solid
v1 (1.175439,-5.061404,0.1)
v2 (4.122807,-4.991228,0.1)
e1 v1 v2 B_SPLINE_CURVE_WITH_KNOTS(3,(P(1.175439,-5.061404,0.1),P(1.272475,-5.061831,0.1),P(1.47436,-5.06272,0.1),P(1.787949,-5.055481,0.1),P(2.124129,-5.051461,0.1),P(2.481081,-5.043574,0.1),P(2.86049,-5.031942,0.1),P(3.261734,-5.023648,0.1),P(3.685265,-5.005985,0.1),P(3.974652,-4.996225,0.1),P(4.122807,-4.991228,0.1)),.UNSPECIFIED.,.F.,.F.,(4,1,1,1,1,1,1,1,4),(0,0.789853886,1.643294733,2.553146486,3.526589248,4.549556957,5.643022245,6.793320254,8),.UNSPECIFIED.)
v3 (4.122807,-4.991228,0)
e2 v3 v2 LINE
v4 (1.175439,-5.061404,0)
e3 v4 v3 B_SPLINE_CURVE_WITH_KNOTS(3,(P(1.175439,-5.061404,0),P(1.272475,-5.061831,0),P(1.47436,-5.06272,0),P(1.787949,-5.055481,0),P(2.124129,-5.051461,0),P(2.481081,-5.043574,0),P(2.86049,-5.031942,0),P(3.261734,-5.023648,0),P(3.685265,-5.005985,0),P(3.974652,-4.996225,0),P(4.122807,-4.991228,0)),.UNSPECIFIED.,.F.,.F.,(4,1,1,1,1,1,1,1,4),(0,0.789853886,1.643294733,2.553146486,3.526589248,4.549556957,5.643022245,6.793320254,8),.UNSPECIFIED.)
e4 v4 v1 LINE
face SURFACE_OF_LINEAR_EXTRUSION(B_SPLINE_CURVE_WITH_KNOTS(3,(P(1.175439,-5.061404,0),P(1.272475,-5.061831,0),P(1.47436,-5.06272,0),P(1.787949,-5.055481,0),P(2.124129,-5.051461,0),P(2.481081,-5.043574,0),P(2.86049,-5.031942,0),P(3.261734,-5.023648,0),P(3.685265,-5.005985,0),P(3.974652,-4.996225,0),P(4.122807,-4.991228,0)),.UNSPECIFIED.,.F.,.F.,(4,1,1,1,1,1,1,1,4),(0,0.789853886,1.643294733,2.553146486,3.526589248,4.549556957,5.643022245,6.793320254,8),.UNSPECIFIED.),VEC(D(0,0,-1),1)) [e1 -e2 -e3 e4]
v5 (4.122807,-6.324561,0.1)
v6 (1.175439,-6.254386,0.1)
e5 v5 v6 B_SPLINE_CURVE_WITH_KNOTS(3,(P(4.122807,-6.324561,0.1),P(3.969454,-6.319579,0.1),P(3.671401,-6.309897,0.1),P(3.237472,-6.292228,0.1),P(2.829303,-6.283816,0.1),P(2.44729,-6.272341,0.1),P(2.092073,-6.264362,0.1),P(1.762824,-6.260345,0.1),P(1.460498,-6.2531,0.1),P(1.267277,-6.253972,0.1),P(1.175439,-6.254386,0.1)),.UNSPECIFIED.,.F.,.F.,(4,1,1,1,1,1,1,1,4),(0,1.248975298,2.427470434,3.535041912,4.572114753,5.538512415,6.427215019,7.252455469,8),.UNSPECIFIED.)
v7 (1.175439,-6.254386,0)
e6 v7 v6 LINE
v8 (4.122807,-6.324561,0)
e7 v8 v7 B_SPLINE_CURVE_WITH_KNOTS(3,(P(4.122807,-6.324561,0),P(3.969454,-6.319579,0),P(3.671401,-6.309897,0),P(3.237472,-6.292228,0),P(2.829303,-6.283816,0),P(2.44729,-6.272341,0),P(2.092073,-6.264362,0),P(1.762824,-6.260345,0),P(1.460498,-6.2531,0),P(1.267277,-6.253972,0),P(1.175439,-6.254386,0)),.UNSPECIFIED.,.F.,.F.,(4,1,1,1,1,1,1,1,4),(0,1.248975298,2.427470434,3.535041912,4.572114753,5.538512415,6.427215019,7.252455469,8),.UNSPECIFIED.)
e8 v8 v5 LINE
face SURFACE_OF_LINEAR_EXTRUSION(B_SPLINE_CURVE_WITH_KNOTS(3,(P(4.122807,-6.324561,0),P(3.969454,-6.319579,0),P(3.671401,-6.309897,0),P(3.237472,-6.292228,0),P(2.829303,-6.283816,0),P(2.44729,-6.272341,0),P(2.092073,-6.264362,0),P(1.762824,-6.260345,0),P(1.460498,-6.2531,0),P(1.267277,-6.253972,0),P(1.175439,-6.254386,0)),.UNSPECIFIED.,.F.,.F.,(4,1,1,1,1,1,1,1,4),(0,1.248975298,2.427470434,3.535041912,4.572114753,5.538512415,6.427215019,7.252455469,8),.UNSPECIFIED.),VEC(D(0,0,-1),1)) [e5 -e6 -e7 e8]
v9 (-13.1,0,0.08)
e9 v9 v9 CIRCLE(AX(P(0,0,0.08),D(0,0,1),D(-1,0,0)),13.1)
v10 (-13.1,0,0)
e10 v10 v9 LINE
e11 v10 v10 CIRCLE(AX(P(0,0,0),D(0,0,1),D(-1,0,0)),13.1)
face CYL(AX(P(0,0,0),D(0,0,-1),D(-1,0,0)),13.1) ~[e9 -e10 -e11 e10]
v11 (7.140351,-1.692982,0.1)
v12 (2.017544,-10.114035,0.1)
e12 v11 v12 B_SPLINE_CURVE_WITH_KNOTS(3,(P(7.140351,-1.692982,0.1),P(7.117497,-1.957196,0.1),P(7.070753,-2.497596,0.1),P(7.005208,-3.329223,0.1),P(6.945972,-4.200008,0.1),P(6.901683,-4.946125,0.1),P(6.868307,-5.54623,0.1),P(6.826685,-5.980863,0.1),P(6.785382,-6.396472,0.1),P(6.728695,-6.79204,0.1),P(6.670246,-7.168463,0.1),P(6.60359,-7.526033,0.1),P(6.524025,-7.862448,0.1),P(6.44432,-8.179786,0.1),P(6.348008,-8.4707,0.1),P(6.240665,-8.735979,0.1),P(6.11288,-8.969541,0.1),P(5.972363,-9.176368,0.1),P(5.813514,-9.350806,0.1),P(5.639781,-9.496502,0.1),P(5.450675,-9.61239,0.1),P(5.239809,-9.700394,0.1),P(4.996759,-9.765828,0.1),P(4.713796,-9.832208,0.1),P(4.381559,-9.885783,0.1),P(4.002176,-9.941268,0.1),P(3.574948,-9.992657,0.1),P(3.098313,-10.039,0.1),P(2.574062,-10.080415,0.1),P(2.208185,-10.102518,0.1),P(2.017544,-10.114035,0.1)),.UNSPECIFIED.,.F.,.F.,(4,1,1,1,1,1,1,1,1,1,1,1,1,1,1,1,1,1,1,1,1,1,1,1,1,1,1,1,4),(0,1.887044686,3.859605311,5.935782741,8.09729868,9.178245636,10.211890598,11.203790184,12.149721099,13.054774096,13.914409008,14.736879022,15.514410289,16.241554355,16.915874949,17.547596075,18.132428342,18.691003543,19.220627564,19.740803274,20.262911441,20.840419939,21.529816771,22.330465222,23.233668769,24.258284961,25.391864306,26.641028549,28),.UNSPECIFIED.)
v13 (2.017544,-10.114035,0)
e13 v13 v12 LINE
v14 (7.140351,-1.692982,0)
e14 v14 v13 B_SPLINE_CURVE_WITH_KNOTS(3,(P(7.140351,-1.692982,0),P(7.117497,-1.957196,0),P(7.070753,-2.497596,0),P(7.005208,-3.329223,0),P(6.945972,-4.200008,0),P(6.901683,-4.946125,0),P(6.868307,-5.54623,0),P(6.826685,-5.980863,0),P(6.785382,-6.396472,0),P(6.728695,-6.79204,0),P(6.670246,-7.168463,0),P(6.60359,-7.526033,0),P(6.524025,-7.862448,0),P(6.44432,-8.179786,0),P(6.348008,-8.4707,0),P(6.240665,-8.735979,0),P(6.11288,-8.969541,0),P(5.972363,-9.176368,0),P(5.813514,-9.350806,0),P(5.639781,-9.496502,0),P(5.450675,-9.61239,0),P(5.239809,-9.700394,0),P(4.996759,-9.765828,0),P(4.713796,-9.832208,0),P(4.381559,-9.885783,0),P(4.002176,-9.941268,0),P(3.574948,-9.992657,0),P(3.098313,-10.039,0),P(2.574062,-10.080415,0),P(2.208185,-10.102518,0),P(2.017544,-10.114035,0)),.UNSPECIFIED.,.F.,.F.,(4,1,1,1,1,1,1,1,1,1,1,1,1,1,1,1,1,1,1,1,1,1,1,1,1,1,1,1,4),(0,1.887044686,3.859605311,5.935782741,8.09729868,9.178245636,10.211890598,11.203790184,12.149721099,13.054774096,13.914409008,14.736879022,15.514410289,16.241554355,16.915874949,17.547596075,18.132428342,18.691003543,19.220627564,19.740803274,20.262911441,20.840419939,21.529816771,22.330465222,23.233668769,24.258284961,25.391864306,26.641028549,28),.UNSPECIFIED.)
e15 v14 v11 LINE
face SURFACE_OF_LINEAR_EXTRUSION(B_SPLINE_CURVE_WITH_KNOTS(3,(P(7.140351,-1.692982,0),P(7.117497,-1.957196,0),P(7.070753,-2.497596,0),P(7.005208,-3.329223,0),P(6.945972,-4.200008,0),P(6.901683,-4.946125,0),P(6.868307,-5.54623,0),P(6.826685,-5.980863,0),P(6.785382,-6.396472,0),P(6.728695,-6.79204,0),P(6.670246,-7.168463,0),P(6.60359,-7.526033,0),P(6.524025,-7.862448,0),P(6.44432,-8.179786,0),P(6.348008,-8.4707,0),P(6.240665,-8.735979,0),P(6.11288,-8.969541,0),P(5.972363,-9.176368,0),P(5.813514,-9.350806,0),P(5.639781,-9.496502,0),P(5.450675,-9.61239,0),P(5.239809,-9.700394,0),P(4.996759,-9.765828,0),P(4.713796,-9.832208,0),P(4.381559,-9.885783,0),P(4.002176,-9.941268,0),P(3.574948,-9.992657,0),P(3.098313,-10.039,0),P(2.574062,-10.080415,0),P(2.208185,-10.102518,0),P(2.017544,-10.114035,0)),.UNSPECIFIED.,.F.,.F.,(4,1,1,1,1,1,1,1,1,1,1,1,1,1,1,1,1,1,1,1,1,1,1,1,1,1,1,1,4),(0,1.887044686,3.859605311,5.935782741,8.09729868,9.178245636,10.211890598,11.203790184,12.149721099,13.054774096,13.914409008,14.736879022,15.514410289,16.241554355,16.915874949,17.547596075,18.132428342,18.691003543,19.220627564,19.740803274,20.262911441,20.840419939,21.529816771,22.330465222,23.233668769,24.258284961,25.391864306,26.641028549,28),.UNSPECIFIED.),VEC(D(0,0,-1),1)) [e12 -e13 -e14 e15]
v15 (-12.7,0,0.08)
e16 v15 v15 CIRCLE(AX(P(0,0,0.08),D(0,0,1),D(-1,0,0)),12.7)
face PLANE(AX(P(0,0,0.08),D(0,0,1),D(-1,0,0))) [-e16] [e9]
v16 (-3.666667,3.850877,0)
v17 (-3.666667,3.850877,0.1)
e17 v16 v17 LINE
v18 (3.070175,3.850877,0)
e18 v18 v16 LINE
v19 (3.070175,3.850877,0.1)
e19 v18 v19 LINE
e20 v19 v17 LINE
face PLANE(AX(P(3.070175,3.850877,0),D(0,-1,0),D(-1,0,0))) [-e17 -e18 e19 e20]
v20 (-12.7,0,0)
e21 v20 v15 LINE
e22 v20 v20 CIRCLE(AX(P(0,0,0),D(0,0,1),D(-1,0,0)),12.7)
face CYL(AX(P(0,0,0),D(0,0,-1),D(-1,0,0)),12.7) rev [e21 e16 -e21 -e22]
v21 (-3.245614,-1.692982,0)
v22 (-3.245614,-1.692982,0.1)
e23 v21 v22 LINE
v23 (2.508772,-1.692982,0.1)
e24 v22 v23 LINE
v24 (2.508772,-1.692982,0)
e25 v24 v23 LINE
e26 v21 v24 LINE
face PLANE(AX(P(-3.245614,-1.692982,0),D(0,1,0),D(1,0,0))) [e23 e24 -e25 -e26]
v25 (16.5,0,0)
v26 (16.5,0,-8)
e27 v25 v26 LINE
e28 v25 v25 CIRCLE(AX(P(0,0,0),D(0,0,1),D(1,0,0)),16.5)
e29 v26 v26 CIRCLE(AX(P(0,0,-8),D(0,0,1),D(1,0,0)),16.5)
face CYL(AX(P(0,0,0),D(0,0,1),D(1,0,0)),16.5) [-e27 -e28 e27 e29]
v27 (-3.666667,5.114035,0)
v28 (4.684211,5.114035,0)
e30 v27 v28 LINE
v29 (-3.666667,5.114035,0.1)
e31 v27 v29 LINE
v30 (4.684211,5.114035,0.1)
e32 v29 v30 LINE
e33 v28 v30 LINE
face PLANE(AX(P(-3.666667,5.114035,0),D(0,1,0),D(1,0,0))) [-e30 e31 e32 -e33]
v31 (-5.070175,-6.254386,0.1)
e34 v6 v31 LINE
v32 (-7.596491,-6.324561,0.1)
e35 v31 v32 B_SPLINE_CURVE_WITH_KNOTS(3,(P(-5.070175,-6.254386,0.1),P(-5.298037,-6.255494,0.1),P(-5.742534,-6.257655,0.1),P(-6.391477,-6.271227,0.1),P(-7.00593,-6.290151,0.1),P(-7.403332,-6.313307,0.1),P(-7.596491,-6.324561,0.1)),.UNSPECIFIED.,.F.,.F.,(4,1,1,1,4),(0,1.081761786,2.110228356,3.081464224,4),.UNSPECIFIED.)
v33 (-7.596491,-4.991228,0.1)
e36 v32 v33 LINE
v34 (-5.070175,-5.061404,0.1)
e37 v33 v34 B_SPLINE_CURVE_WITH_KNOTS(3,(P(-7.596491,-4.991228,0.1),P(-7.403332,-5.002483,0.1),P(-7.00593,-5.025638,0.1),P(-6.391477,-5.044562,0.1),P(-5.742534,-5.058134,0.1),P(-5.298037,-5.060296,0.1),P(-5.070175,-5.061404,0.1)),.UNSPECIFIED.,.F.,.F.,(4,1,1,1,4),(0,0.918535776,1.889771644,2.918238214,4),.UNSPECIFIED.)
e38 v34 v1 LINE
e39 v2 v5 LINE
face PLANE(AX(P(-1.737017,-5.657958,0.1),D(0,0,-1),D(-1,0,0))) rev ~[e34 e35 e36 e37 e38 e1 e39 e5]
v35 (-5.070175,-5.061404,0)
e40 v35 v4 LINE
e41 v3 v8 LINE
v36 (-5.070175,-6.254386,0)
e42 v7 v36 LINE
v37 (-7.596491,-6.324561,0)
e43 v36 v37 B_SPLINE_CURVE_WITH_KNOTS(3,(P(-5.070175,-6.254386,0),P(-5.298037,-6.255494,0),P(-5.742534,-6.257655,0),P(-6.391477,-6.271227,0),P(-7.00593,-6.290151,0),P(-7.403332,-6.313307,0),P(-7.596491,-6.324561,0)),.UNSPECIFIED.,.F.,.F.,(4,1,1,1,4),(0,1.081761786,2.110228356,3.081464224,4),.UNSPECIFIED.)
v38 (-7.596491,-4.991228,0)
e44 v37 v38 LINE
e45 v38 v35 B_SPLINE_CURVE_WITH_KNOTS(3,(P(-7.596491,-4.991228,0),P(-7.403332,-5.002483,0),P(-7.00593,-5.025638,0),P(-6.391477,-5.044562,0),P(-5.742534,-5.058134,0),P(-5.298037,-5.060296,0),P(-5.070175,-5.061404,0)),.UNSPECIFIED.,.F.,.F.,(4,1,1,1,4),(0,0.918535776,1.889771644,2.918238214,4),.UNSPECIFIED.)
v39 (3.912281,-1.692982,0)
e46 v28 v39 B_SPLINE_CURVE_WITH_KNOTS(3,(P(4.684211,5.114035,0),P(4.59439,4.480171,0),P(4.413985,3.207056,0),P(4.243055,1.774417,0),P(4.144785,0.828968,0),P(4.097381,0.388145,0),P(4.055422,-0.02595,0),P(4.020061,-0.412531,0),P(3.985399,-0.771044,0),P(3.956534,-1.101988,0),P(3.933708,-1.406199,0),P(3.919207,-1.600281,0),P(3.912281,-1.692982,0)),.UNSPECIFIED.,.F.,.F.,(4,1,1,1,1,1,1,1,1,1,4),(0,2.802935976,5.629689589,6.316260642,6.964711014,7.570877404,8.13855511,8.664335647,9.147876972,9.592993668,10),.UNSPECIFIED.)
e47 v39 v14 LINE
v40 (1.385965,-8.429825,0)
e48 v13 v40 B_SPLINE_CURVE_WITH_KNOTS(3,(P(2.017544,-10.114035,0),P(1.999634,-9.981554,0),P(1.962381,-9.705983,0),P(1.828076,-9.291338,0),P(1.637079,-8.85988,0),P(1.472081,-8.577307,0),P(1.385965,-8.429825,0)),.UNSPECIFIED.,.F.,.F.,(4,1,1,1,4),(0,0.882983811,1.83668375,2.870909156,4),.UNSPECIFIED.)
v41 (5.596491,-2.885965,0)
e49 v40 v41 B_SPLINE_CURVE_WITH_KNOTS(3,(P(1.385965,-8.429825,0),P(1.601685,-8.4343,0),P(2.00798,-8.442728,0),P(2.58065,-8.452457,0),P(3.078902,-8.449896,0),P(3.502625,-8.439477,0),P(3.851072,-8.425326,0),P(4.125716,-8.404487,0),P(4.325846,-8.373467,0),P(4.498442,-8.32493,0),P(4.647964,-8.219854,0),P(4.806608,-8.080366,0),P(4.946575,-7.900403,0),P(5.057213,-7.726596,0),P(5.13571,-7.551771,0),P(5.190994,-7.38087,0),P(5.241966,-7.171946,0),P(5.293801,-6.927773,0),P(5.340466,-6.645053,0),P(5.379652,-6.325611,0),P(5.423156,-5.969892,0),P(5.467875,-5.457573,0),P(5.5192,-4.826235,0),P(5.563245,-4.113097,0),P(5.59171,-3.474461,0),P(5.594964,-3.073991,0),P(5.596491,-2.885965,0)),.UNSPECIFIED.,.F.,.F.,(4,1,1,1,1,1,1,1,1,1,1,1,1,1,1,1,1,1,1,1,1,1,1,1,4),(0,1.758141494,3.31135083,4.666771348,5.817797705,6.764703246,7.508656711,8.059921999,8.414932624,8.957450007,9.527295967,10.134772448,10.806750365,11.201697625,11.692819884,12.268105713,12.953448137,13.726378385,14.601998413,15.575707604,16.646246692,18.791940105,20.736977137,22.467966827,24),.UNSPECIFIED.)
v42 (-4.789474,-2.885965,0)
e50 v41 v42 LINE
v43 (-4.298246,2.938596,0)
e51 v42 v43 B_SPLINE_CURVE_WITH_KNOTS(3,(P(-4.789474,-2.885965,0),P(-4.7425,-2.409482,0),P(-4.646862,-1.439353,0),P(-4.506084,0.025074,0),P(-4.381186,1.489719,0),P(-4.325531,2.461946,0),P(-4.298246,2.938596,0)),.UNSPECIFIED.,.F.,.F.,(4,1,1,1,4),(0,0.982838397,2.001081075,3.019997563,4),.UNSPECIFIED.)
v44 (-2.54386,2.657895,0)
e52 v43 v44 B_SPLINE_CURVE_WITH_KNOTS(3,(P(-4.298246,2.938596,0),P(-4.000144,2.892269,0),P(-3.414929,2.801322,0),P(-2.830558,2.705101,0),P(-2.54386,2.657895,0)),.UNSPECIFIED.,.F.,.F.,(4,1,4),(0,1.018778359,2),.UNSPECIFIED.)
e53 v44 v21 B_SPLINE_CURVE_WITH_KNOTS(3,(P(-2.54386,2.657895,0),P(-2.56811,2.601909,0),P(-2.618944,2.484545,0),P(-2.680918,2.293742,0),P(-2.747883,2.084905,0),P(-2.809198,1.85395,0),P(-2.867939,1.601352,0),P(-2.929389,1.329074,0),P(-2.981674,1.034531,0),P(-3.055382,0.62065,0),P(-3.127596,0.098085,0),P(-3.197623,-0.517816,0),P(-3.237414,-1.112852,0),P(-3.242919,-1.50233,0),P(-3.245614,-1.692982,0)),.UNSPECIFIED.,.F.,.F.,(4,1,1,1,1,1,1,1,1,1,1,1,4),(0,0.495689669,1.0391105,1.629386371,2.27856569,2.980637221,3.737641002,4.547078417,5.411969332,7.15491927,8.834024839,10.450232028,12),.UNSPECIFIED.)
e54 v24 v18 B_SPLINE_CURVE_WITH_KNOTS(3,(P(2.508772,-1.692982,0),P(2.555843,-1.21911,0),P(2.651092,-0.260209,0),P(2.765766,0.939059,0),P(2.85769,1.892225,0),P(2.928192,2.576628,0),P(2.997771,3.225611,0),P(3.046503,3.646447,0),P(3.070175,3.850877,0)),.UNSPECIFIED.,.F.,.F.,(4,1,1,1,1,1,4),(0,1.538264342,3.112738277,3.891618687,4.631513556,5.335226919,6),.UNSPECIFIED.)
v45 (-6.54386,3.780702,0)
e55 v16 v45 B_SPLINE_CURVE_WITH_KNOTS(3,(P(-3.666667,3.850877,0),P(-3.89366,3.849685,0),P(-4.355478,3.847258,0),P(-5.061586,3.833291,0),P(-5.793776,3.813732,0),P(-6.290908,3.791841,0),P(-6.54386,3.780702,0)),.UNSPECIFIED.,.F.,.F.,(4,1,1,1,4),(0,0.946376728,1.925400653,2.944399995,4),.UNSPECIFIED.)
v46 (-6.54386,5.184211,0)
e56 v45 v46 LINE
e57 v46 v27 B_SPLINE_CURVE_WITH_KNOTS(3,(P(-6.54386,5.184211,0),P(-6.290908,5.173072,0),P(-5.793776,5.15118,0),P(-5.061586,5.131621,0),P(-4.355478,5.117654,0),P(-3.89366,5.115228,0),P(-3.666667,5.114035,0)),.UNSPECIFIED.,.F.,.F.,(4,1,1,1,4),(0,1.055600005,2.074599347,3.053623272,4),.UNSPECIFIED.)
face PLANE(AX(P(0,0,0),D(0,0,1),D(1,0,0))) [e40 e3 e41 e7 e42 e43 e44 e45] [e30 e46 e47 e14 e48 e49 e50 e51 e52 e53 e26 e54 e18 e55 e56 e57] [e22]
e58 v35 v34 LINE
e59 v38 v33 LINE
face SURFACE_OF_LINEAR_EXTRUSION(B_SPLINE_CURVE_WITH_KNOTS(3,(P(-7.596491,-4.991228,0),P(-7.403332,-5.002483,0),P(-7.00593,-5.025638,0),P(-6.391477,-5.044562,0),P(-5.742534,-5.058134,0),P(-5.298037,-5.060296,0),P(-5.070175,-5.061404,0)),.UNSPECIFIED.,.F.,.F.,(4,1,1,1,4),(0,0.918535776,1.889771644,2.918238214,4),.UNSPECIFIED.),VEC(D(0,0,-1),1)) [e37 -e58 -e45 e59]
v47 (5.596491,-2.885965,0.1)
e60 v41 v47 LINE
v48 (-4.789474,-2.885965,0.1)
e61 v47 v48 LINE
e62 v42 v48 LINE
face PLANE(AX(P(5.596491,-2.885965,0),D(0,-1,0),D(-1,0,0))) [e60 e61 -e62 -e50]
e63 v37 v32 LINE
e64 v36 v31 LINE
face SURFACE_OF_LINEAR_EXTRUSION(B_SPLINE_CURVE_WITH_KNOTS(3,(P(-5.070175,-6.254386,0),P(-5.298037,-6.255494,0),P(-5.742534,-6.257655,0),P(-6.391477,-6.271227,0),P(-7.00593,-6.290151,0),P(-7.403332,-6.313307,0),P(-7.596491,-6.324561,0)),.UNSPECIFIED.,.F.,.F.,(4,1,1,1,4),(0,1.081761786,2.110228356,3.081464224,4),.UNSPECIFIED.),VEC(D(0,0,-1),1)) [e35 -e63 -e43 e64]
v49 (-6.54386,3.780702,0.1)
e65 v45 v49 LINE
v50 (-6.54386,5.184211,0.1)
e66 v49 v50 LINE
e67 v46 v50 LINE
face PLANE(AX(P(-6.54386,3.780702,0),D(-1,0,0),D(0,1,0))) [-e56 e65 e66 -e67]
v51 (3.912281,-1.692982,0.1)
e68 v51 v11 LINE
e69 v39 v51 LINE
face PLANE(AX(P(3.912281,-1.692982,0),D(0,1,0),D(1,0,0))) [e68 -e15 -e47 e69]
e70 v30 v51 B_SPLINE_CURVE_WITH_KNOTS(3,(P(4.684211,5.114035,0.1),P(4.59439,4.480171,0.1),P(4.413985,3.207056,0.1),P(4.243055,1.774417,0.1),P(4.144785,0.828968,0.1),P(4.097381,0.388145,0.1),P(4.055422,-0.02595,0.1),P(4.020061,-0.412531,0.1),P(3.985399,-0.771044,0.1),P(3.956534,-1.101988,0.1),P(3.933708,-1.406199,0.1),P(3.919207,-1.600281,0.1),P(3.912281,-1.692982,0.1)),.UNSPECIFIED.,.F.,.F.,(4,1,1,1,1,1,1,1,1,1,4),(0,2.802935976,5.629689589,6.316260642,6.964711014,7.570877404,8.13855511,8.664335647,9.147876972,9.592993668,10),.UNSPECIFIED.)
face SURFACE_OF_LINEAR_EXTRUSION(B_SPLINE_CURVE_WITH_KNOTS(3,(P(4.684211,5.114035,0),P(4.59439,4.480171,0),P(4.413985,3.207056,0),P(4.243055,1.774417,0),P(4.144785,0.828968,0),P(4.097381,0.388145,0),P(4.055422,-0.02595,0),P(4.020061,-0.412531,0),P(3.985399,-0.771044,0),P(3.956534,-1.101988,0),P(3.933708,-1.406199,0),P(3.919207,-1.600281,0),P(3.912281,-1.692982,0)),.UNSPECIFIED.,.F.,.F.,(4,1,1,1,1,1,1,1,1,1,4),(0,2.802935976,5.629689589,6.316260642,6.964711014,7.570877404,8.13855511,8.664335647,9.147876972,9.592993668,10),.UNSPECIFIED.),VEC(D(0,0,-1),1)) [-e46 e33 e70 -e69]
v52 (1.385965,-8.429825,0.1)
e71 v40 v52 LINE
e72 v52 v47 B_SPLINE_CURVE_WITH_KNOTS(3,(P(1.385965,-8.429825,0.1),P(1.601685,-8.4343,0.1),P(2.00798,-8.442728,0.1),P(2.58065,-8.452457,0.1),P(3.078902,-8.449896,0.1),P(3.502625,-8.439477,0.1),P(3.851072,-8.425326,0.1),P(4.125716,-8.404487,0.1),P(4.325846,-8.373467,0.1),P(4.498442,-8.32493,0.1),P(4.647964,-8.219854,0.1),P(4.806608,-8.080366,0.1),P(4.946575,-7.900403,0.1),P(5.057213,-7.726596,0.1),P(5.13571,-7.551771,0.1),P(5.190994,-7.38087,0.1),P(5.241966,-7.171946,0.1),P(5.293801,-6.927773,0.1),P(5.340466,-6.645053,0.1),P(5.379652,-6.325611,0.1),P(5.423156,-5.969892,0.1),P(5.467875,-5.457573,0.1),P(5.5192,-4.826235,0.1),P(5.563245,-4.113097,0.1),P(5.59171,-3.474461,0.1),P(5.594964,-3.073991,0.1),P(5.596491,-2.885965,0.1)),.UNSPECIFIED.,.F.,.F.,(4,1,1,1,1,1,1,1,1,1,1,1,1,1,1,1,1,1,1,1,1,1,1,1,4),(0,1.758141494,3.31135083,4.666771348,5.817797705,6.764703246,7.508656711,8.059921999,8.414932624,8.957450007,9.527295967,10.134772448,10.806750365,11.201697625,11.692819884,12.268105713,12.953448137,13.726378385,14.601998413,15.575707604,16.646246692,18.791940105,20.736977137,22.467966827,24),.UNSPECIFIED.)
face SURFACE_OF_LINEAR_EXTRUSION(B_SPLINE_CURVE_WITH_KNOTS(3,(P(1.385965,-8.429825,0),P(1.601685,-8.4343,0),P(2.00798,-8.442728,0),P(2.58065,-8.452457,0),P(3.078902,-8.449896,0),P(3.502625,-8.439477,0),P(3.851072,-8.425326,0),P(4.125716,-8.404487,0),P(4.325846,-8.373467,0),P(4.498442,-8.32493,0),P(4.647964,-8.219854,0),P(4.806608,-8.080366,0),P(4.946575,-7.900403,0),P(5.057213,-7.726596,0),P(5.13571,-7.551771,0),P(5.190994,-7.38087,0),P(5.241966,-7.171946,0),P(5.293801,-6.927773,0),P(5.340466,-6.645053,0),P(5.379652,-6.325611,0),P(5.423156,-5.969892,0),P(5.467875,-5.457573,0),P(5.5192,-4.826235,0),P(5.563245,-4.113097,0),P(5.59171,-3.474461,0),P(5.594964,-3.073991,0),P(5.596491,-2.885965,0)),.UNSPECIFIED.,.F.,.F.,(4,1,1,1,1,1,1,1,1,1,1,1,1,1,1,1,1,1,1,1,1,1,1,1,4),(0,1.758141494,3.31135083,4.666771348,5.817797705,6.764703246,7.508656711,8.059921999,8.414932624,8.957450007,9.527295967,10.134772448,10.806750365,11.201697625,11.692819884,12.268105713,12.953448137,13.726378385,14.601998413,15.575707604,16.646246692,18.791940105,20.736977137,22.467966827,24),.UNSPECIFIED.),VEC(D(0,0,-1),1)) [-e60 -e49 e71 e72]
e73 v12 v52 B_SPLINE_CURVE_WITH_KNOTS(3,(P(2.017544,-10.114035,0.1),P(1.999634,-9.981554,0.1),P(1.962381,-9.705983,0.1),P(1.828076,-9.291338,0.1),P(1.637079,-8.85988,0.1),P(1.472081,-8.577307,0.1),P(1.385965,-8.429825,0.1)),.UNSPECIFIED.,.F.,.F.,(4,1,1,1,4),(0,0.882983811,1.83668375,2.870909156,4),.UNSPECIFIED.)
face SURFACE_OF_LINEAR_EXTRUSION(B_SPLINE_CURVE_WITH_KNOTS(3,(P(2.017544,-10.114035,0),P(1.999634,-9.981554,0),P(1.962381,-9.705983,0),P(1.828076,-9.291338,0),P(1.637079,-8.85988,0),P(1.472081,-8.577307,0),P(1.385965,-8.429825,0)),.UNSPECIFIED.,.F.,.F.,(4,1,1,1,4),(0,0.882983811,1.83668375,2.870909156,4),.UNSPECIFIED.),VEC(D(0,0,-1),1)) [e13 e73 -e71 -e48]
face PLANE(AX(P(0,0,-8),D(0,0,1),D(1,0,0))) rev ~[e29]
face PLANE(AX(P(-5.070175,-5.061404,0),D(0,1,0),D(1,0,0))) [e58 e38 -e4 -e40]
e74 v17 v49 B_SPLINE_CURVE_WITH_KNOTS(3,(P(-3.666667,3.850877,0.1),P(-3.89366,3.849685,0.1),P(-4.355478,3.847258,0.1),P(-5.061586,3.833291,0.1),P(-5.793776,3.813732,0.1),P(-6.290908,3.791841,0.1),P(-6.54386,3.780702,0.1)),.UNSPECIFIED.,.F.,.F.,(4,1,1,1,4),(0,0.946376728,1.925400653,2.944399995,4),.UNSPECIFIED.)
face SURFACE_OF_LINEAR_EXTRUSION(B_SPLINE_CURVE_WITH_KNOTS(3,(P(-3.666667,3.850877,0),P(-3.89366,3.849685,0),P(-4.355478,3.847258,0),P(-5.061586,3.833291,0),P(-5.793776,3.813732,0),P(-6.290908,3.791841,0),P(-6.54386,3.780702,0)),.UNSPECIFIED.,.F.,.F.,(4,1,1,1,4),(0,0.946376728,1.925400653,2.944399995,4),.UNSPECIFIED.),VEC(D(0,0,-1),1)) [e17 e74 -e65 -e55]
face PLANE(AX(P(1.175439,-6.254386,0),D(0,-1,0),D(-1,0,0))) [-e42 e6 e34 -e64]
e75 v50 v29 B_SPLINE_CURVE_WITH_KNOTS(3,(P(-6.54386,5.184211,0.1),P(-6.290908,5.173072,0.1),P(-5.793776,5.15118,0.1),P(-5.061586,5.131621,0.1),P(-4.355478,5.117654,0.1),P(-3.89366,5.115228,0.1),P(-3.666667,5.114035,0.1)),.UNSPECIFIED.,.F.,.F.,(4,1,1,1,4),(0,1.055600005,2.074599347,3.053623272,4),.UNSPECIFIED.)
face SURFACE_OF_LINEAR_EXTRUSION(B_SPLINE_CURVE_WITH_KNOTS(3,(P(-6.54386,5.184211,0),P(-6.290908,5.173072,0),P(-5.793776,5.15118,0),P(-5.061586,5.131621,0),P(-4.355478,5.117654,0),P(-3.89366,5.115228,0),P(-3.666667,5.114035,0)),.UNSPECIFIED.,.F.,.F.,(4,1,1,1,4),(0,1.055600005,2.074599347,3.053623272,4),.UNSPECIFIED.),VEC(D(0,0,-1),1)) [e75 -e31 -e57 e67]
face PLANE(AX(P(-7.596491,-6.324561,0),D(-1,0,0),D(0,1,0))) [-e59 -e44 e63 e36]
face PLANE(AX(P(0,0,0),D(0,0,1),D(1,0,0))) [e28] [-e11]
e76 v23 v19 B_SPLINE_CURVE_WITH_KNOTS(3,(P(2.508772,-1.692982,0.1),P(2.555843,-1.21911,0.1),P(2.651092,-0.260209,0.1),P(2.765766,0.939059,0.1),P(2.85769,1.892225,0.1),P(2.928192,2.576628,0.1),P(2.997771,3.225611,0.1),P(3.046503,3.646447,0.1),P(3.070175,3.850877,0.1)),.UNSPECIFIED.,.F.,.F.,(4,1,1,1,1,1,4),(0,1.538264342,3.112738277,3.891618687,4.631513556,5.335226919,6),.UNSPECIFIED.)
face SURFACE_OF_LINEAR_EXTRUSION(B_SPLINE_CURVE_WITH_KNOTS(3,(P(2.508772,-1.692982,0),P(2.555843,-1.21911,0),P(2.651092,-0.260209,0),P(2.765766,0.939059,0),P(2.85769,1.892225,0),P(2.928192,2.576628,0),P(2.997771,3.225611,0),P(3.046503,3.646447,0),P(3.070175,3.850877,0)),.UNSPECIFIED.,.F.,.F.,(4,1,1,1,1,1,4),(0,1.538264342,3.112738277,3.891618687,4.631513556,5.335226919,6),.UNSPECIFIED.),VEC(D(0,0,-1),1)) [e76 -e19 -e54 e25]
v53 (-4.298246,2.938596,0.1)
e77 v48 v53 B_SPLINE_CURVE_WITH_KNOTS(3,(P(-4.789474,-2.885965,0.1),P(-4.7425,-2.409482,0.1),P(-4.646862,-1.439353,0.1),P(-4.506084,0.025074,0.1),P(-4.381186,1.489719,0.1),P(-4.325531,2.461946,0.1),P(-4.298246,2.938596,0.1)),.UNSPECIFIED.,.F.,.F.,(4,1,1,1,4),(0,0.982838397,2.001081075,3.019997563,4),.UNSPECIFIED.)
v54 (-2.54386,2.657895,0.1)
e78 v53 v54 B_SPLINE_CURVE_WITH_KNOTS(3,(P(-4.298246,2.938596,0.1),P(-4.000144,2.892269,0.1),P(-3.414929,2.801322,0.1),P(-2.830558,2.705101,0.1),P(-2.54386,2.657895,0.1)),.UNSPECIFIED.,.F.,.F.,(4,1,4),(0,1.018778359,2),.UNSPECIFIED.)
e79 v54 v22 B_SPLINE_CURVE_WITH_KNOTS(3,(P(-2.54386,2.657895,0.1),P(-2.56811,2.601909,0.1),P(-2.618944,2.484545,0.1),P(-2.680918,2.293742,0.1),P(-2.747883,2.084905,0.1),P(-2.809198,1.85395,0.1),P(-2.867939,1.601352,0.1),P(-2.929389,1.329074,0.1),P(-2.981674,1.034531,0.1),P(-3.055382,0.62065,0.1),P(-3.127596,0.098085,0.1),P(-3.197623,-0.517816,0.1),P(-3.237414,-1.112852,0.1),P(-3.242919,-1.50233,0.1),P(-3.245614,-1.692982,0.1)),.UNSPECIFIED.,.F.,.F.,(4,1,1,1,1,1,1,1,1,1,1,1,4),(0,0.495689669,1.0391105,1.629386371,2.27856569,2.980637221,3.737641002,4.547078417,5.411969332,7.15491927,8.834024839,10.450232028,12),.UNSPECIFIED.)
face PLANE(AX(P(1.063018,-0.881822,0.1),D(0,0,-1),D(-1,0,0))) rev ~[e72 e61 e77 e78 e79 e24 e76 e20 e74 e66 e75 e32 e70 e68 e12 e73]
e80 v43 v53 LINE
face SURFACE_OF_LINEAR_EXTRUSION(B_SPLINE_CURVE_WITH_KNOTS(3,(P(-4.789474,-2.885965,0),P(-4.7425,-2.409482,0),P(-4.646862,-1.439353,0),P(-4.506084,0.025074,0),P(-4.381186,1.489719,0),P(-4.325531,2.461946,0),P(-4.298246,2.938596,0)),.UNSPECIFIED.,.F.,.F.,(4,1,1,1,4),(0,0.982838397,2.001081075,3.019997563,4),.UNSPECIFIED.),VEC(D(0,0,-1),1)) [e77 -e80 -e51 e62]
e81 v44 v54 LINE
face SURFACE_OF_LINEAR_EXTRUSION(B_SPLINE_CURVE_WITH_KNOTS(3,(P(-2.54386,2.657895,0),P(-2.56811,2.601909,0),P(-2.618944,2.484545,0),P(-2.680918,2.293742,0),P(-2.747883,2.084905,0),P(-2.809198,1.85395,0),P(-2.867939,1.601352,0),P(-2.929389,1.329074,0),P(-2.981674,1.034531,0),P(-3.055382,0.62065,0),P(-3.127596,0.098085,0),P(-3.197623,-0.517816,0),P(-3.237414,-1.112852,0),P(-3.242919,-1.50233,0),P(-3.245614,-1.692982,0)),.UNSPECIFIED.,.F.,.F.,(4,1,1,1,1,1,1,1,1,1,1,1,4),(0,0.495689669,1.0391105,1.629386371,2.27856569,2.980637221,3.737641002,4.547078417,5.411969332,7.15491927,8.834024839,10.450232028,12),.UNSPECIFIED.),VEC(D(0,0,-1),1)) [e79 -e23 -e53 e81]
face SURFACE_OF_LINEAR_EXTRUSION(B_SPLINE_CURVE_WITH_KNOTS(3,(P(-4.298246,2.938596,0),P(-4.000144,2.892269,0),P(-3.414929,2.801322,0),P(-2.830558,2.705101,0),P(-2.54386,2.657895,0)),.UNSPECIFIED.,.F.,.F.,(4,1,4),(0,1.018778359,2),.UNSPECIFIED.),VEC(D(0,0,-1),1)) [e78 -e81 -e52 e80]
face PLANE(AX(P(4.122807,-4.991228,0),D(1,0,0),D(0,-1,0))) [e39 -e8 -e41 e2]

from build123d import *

# Parameters (mm, degrees)
SKETCH_1_R               = 16.5
DIAMETER33_HEIGHT8_DEPTH = 8
CHARACTER_DEPTH          = 0.1
SKETCH_3_R               = 13.1
SKETCH_3_R_2             = 12.7
INK_RING_DEPTH           = 0.08


with BuildPart() as part:
    # 草图1 → Diameter33_Height8 (new body)
    with BuildSketch(Plane.XY):
        Circle(SKETCH_1_R)
    extrude(amount=-DIAMETER33_HEIGHT8_DEPTH)

    # 草图2 → Character_马 (add)
    with BuildSketch(Plane.XY):
        with BuildLine():
            add(Edge.make_bspline(
                [(-2.543859649, 2.657894737), (-2.568109523, 2.601908638), (-2.618944351, 2.484545403), (-2.68091831, 2.29374228), (-2.747882739, 2.084905171), (-2.809197893, 1.853949883), (-2.867938942, 1.601351852), (-2.929388828, 1.329074257), (-2.981674213, 1.034530608), (-3.05538164, 0.620649676), (-3.127595616, 0.098084884), (-3.197623224, -0.517816396), (-3.237414282, -1.112851594), (-3.242919292, -1.502329954), (-3.245614035, -1.692982456)],
                knots=[0, 0, 0, 0, 0.495689669, 1.0391105, 1.629386371, 2.27856569, 2.980637221, 3.737641002, 4.547078417, 5.411969332, 7.15491927, 8.834024839, 10.450232028, 12, 12, 12, 12], degree=3))
            Line((-3.245614035, -1.692982456), (2.50877193, -1.692982456))
            add(Edge.make_bspline(
                [(2.50877193, -1.692982456), (2.555842668, -1.219109546), (2.651092154, -0.26020911), (2.765765857, 0.939059138), (2.857689962, 1.892225125), (2.928191701, 2.576627854), (2.997770846, 3.225611417), (3.046502797, 3.646446892), (3.070175439, 3.850877193)],
                knots=[0, 0, 0, 0, 1.538264342, 3.112738277, 3.891618687, 4.631513556, 5.335226919, 6, 6, 6, 6], degree=3))
            Line((3.070175439, 3.850877193), (-3.666666667, 3.850877193))
            add(Edge.make_bspline(
                [(-3.666666667, 3.850877193), (-3.893660384, 3.849684604), (-4.355478431, 3.847258285), (-5.06158577, 3.833290973), (-5.793776141, 3.813732), (-6.290908298, 3.791840575), (-6.543859649, 3.780701754)],
                knots=[0, 0, 0, 0, 0.946376728, 1.925400653, 2.944399995, 4, 4, 4, 4], degree=3))
            Line((-6.543859649, 3.780701754), (-6.543859649, 5.184210526))
            add(Edge.make_bspline(
                [(-6.543859649, 5.184210526), (-6.290908298, 5.173071706), (-5.793776141, 5.15118028), (-5.06158577, 5.131621308), (-4.355478431, 5.117653996), (-3.893660384, 5.115227677), (-3.666666667, 5.114035088)],
                knots=[0, 0, 0, 0, 1.055600005, 2.074599347, 3.053623272, 4, 4, 4, 4], degree=3))
            Line((-3.666666667, 5.114035088), (4.684210526, 5.114035088))
            add(Edge.make_bspline(
                [(4.684210526, 5.114035088), (4.594389665, 4.480170947), (4.4139847, 3.207056477), (4.243054526, 1.774416685), (4.14478495, 0.828967937), (4.097381465, 0.388144624), (4.055421695, -0.025950303), (4.020061293, -0.412530658), (3.985399458, -0.77104386), (3.956533585, -1.101987754), (3.933708028, -1.406199086), (3.919206962, -1.600281379), (3.912280702, -1.692982456)],
                knots=[0, 0, 0, 0, 2.802935976, 5.629689589, 6.316260642, 6.964711014, 7.570877404, 8.13855511, 8.664335647, 9.147876972, 9.592993668, 10, 10, 10, 10], degree=3))
            Line((3.912280702, -1.692982456), (7.140350877, -1.692982456))
            add(Edge.make_bspline(
                [(7.140350877, -1.692982456), (7.117496771, -1.957195671), (7.070752869, -2.497595555), (7.005207646, -3.329223298), (6.94597212, -4.200007765), (6.901683429, -4.946124678), (6.868307152, -5.546229635), (6.826684596, -5.980862849), (6.785382047, -6.39647152), (6.728695376, -6.792040318), (6.670245675, -7.168463089), (6.603590191, -7.526033406), (6.524025139, -7.862448123), (6.444320105, -8.179786345), (6.348007699, -8.470700422), (6.240664659, -8.735979197), (6.112879912, -8.969541099), (5.972363355, -9.176368475), (5.813514, -9.350805736), (5.639780874, -9.496502029), (5.450674708, -9.612389616), (5.239809272, -9.700393942), (4.996758723, -9.765827824), (4.713795659, -9.832208089), (4.381558555, -9.885783366), (4.002176073, -9.941267696), (3.574948301, -9.992657478), (3.098313267, -10.039000074), (2.574062445, -10.080415008), (2.208184758, -10.1025182), (2.01754386, -10.114035088)],
                knots=[0, 0, 0, 0, 1.887044686, 3.859605311, 5.935782741, 8.09729868, 9.178245636, 10.211890598, 11.203790184, 12.149721099, 13.054774096, 13.914409008, 14.736879022, 15.514410289, 16.241554355, 16.915874949, 17.547596075, 18.132428342, 18.691003543, 19.220627564, 19.740803274, 20.262911441, 20.840419939, 21.529816771, 22.330465222, 23.233668769, 24.258284961, 25.391864306, 26.641028549, 28, 28, 28, 28], degree=3))
            add(Edge.make_bspline(
                [(2.01754386, -10.114035088), (1.999634211, -9.981554353), (1.962380573, -9.705982807), (1.828075725, -9.291338106), (1.637078715, -8.859880402), (1.472081327, -8.577306965), (1.385964912, -8.429824561)],
                knots=[0, 0, 0, 0, 0.882983811, 1.83668375, 2.870909156, 4, 4, 4, 4], degree=3))
            add(Edge.make_bspline(
                [(1.385964912, -8.429824561), (1.601684871, -8.434299725), (2.00798008, -8.44272842), (2.580650352, -8.452457271), (3.078902343, -8.449896251), (3.50262546, -8.439476904), (3.851072115, -8.425325844), (4.125715661, -8.404487351), (4.325845969, -8.373466937), (4.498441923, -8.324930212), (4.647964297, -8.219854178), (4.806608465, -8.080366), (4.946574967, -7.900402806), (5.057213348, -7.72659571), (5.135709742, -7.551771137), (5.19099419, -7.380870408), (5.241966461, -7.171945715), (5.293801136, -6.927772939), (5.340465741, -6.64505285), (5.379651802, -6.325610866), (5.42315596, -5.969892033), (5.467875091, -5.457573461), (5.519200344, -4.8262348), (5.563244909, -4.113096685), (5.591709685, -3.474461181), (5.594963512, -3.073991037), (5.596491228, -2.885964912)],
                knots=[0, 0, 0, 0, 1.758141494, 3.31135083, 4.666771348, 5.817797705, 6.764703246, 7.508656711, 8.059921999, 8.414932624, 8.957450007, 9.527295967, 10.134772448, 10.806750365, 11.201697625, 11.692819884, 12.268105713, 12.953448137, 13.726378385, 14.601998413, 15.575707604, 16.646246692, 18.791940105, 20.736977137, 22.467966827, 24, 24, 24, 24], degree=3))
            Line((5.596491228, -2.885964912), (-4.789473684, -2.885964912))
            add(Edge.make_bspline(
                [(-4.789473684, -2.885964912), (-4.742500482, -2.409482331), (-4.646861986, -1.439353083), (-4.506084048, 0.025074391), (-4.381186338, 1.489718928), (-4.325531367, 2.461946264), (-4.298245614, 2.938596491)],
                knots=[0, 0, 0, 0, 0.982838397, 2.001081075, 3.019997563, 4, 4, 4, 4], degree=3))
            add(Edge.make_bspline(
                [(-4.298245614, 2.938596491), (-4.000143593, 2.892268938), (-3.414928922, 2.801321673), (-2.830558232, 2.705101429), (-2.543859649, 2.657894737)],
                knots=[0, 0, 0, 0, 1.018778359, 2, 2, 2, 2], degree=3))
        make_face()
        with BuildLine():
            add(Edge.make_bspline(
                [(1.175438596, -5.061403509), (1.272474939, -5.06183074), (1.474359506, -5.062719598), (1.787949201, -5.055481089), (2.124128563, -5.051460824), (2.48108109, -5.043574331), (2.860490404, -5.031942174), (3.261734399, -5.023647615), (3.685265265, -5.005984943), (3.974652272, -4.996224852), (4.122807018, -4.99122807)],
                knots=[0, 0, 0, 0, 0.789853886, 1.643294733, 2.553146486, 3.526589248, 4.549556957, 5.643022245, 6.793320254, 8, 8, 8, 8], degree=3))
            Line((4.122807018, -4.99122807), (4.122807018, -6.324561404))
            add(Edge.make_bspline(
                [(4.122807018, -6.324561404), (3.969453719, -6.319579397), (3.671400907, -6.309896522), (3.237471852, -6.292228161), (2.829302521, -6.283816356), (2.447289567, -6.272341119), (2.09207297, -6.264362463), (1.762823851, -6.260344735), (1.460498309, -6.253100348), (1.267276772, -6.253971776), (1.175438596, -6.254385965)],
                knots=[0, 0, 0, 0, 1.248975298, 2.427470434, 3.535041912, 4.572114753, 5.538512415, 6.427215019, 7.252455469, 8, 8, 8, 8], degree=3))
            Line((1.175438596, -6.254385965), (-5.070175439, -6.254385965))
            add(Edge.make_bspline(
                [(-5.070175439, -6.254385965), (-5.298037146, -6.255493864), (-5.742534486, -6.257655079), (-6.391477007, -6.271227092), (-7.005930309, -6.290151347), (-7.403331701, -6.313306629), (-7.596491228, -6.324561404)],
                knots=[0, 0, 0, 0, 1.081761786, 2.110228356, 3.081464224, 4, 4, 4, 4], degree=3))
            Line((-7.596491228, -6.324561404), (-7.596491228, -4.99122807))
            add(Edge.make_bspline(
                [(-7.596491228, -4.99122807), (-7.403331701, -5.002482845), (-7.005930309, -5.025638127), (-6.391477007, -5.044562382), (-5.742534486, -5.058134395), (-5.298037146, -5.06029561), (-5.070175439, -5.061403509)],
                knots=[0, 0, 0, 0, 0.918535776, 1.889771644, 2.918238214, 4, 4, 4, 4], degree=3))
            Line((-5.070175439, -5.061403509), (1.175438596, -5.061403509))
        make_face()
    extrude(amount=CHARACTER_DEPTH)

    # 草图3 → Ink_ring (add)
    with BuildSketch(Plane.XY):
        with Locations(Location((0, 0, 0), (0, 0, 180))):
            Circle(SKETCH_3_R)
        with Locations(Location((0, 0, 0), (0, 0, 180))):
            Circle(SKETCH_3_R_2, mode=Mode.SUBTRACT)
    extrude(amount=INK_RING_DEPTH)


solid = part.part
